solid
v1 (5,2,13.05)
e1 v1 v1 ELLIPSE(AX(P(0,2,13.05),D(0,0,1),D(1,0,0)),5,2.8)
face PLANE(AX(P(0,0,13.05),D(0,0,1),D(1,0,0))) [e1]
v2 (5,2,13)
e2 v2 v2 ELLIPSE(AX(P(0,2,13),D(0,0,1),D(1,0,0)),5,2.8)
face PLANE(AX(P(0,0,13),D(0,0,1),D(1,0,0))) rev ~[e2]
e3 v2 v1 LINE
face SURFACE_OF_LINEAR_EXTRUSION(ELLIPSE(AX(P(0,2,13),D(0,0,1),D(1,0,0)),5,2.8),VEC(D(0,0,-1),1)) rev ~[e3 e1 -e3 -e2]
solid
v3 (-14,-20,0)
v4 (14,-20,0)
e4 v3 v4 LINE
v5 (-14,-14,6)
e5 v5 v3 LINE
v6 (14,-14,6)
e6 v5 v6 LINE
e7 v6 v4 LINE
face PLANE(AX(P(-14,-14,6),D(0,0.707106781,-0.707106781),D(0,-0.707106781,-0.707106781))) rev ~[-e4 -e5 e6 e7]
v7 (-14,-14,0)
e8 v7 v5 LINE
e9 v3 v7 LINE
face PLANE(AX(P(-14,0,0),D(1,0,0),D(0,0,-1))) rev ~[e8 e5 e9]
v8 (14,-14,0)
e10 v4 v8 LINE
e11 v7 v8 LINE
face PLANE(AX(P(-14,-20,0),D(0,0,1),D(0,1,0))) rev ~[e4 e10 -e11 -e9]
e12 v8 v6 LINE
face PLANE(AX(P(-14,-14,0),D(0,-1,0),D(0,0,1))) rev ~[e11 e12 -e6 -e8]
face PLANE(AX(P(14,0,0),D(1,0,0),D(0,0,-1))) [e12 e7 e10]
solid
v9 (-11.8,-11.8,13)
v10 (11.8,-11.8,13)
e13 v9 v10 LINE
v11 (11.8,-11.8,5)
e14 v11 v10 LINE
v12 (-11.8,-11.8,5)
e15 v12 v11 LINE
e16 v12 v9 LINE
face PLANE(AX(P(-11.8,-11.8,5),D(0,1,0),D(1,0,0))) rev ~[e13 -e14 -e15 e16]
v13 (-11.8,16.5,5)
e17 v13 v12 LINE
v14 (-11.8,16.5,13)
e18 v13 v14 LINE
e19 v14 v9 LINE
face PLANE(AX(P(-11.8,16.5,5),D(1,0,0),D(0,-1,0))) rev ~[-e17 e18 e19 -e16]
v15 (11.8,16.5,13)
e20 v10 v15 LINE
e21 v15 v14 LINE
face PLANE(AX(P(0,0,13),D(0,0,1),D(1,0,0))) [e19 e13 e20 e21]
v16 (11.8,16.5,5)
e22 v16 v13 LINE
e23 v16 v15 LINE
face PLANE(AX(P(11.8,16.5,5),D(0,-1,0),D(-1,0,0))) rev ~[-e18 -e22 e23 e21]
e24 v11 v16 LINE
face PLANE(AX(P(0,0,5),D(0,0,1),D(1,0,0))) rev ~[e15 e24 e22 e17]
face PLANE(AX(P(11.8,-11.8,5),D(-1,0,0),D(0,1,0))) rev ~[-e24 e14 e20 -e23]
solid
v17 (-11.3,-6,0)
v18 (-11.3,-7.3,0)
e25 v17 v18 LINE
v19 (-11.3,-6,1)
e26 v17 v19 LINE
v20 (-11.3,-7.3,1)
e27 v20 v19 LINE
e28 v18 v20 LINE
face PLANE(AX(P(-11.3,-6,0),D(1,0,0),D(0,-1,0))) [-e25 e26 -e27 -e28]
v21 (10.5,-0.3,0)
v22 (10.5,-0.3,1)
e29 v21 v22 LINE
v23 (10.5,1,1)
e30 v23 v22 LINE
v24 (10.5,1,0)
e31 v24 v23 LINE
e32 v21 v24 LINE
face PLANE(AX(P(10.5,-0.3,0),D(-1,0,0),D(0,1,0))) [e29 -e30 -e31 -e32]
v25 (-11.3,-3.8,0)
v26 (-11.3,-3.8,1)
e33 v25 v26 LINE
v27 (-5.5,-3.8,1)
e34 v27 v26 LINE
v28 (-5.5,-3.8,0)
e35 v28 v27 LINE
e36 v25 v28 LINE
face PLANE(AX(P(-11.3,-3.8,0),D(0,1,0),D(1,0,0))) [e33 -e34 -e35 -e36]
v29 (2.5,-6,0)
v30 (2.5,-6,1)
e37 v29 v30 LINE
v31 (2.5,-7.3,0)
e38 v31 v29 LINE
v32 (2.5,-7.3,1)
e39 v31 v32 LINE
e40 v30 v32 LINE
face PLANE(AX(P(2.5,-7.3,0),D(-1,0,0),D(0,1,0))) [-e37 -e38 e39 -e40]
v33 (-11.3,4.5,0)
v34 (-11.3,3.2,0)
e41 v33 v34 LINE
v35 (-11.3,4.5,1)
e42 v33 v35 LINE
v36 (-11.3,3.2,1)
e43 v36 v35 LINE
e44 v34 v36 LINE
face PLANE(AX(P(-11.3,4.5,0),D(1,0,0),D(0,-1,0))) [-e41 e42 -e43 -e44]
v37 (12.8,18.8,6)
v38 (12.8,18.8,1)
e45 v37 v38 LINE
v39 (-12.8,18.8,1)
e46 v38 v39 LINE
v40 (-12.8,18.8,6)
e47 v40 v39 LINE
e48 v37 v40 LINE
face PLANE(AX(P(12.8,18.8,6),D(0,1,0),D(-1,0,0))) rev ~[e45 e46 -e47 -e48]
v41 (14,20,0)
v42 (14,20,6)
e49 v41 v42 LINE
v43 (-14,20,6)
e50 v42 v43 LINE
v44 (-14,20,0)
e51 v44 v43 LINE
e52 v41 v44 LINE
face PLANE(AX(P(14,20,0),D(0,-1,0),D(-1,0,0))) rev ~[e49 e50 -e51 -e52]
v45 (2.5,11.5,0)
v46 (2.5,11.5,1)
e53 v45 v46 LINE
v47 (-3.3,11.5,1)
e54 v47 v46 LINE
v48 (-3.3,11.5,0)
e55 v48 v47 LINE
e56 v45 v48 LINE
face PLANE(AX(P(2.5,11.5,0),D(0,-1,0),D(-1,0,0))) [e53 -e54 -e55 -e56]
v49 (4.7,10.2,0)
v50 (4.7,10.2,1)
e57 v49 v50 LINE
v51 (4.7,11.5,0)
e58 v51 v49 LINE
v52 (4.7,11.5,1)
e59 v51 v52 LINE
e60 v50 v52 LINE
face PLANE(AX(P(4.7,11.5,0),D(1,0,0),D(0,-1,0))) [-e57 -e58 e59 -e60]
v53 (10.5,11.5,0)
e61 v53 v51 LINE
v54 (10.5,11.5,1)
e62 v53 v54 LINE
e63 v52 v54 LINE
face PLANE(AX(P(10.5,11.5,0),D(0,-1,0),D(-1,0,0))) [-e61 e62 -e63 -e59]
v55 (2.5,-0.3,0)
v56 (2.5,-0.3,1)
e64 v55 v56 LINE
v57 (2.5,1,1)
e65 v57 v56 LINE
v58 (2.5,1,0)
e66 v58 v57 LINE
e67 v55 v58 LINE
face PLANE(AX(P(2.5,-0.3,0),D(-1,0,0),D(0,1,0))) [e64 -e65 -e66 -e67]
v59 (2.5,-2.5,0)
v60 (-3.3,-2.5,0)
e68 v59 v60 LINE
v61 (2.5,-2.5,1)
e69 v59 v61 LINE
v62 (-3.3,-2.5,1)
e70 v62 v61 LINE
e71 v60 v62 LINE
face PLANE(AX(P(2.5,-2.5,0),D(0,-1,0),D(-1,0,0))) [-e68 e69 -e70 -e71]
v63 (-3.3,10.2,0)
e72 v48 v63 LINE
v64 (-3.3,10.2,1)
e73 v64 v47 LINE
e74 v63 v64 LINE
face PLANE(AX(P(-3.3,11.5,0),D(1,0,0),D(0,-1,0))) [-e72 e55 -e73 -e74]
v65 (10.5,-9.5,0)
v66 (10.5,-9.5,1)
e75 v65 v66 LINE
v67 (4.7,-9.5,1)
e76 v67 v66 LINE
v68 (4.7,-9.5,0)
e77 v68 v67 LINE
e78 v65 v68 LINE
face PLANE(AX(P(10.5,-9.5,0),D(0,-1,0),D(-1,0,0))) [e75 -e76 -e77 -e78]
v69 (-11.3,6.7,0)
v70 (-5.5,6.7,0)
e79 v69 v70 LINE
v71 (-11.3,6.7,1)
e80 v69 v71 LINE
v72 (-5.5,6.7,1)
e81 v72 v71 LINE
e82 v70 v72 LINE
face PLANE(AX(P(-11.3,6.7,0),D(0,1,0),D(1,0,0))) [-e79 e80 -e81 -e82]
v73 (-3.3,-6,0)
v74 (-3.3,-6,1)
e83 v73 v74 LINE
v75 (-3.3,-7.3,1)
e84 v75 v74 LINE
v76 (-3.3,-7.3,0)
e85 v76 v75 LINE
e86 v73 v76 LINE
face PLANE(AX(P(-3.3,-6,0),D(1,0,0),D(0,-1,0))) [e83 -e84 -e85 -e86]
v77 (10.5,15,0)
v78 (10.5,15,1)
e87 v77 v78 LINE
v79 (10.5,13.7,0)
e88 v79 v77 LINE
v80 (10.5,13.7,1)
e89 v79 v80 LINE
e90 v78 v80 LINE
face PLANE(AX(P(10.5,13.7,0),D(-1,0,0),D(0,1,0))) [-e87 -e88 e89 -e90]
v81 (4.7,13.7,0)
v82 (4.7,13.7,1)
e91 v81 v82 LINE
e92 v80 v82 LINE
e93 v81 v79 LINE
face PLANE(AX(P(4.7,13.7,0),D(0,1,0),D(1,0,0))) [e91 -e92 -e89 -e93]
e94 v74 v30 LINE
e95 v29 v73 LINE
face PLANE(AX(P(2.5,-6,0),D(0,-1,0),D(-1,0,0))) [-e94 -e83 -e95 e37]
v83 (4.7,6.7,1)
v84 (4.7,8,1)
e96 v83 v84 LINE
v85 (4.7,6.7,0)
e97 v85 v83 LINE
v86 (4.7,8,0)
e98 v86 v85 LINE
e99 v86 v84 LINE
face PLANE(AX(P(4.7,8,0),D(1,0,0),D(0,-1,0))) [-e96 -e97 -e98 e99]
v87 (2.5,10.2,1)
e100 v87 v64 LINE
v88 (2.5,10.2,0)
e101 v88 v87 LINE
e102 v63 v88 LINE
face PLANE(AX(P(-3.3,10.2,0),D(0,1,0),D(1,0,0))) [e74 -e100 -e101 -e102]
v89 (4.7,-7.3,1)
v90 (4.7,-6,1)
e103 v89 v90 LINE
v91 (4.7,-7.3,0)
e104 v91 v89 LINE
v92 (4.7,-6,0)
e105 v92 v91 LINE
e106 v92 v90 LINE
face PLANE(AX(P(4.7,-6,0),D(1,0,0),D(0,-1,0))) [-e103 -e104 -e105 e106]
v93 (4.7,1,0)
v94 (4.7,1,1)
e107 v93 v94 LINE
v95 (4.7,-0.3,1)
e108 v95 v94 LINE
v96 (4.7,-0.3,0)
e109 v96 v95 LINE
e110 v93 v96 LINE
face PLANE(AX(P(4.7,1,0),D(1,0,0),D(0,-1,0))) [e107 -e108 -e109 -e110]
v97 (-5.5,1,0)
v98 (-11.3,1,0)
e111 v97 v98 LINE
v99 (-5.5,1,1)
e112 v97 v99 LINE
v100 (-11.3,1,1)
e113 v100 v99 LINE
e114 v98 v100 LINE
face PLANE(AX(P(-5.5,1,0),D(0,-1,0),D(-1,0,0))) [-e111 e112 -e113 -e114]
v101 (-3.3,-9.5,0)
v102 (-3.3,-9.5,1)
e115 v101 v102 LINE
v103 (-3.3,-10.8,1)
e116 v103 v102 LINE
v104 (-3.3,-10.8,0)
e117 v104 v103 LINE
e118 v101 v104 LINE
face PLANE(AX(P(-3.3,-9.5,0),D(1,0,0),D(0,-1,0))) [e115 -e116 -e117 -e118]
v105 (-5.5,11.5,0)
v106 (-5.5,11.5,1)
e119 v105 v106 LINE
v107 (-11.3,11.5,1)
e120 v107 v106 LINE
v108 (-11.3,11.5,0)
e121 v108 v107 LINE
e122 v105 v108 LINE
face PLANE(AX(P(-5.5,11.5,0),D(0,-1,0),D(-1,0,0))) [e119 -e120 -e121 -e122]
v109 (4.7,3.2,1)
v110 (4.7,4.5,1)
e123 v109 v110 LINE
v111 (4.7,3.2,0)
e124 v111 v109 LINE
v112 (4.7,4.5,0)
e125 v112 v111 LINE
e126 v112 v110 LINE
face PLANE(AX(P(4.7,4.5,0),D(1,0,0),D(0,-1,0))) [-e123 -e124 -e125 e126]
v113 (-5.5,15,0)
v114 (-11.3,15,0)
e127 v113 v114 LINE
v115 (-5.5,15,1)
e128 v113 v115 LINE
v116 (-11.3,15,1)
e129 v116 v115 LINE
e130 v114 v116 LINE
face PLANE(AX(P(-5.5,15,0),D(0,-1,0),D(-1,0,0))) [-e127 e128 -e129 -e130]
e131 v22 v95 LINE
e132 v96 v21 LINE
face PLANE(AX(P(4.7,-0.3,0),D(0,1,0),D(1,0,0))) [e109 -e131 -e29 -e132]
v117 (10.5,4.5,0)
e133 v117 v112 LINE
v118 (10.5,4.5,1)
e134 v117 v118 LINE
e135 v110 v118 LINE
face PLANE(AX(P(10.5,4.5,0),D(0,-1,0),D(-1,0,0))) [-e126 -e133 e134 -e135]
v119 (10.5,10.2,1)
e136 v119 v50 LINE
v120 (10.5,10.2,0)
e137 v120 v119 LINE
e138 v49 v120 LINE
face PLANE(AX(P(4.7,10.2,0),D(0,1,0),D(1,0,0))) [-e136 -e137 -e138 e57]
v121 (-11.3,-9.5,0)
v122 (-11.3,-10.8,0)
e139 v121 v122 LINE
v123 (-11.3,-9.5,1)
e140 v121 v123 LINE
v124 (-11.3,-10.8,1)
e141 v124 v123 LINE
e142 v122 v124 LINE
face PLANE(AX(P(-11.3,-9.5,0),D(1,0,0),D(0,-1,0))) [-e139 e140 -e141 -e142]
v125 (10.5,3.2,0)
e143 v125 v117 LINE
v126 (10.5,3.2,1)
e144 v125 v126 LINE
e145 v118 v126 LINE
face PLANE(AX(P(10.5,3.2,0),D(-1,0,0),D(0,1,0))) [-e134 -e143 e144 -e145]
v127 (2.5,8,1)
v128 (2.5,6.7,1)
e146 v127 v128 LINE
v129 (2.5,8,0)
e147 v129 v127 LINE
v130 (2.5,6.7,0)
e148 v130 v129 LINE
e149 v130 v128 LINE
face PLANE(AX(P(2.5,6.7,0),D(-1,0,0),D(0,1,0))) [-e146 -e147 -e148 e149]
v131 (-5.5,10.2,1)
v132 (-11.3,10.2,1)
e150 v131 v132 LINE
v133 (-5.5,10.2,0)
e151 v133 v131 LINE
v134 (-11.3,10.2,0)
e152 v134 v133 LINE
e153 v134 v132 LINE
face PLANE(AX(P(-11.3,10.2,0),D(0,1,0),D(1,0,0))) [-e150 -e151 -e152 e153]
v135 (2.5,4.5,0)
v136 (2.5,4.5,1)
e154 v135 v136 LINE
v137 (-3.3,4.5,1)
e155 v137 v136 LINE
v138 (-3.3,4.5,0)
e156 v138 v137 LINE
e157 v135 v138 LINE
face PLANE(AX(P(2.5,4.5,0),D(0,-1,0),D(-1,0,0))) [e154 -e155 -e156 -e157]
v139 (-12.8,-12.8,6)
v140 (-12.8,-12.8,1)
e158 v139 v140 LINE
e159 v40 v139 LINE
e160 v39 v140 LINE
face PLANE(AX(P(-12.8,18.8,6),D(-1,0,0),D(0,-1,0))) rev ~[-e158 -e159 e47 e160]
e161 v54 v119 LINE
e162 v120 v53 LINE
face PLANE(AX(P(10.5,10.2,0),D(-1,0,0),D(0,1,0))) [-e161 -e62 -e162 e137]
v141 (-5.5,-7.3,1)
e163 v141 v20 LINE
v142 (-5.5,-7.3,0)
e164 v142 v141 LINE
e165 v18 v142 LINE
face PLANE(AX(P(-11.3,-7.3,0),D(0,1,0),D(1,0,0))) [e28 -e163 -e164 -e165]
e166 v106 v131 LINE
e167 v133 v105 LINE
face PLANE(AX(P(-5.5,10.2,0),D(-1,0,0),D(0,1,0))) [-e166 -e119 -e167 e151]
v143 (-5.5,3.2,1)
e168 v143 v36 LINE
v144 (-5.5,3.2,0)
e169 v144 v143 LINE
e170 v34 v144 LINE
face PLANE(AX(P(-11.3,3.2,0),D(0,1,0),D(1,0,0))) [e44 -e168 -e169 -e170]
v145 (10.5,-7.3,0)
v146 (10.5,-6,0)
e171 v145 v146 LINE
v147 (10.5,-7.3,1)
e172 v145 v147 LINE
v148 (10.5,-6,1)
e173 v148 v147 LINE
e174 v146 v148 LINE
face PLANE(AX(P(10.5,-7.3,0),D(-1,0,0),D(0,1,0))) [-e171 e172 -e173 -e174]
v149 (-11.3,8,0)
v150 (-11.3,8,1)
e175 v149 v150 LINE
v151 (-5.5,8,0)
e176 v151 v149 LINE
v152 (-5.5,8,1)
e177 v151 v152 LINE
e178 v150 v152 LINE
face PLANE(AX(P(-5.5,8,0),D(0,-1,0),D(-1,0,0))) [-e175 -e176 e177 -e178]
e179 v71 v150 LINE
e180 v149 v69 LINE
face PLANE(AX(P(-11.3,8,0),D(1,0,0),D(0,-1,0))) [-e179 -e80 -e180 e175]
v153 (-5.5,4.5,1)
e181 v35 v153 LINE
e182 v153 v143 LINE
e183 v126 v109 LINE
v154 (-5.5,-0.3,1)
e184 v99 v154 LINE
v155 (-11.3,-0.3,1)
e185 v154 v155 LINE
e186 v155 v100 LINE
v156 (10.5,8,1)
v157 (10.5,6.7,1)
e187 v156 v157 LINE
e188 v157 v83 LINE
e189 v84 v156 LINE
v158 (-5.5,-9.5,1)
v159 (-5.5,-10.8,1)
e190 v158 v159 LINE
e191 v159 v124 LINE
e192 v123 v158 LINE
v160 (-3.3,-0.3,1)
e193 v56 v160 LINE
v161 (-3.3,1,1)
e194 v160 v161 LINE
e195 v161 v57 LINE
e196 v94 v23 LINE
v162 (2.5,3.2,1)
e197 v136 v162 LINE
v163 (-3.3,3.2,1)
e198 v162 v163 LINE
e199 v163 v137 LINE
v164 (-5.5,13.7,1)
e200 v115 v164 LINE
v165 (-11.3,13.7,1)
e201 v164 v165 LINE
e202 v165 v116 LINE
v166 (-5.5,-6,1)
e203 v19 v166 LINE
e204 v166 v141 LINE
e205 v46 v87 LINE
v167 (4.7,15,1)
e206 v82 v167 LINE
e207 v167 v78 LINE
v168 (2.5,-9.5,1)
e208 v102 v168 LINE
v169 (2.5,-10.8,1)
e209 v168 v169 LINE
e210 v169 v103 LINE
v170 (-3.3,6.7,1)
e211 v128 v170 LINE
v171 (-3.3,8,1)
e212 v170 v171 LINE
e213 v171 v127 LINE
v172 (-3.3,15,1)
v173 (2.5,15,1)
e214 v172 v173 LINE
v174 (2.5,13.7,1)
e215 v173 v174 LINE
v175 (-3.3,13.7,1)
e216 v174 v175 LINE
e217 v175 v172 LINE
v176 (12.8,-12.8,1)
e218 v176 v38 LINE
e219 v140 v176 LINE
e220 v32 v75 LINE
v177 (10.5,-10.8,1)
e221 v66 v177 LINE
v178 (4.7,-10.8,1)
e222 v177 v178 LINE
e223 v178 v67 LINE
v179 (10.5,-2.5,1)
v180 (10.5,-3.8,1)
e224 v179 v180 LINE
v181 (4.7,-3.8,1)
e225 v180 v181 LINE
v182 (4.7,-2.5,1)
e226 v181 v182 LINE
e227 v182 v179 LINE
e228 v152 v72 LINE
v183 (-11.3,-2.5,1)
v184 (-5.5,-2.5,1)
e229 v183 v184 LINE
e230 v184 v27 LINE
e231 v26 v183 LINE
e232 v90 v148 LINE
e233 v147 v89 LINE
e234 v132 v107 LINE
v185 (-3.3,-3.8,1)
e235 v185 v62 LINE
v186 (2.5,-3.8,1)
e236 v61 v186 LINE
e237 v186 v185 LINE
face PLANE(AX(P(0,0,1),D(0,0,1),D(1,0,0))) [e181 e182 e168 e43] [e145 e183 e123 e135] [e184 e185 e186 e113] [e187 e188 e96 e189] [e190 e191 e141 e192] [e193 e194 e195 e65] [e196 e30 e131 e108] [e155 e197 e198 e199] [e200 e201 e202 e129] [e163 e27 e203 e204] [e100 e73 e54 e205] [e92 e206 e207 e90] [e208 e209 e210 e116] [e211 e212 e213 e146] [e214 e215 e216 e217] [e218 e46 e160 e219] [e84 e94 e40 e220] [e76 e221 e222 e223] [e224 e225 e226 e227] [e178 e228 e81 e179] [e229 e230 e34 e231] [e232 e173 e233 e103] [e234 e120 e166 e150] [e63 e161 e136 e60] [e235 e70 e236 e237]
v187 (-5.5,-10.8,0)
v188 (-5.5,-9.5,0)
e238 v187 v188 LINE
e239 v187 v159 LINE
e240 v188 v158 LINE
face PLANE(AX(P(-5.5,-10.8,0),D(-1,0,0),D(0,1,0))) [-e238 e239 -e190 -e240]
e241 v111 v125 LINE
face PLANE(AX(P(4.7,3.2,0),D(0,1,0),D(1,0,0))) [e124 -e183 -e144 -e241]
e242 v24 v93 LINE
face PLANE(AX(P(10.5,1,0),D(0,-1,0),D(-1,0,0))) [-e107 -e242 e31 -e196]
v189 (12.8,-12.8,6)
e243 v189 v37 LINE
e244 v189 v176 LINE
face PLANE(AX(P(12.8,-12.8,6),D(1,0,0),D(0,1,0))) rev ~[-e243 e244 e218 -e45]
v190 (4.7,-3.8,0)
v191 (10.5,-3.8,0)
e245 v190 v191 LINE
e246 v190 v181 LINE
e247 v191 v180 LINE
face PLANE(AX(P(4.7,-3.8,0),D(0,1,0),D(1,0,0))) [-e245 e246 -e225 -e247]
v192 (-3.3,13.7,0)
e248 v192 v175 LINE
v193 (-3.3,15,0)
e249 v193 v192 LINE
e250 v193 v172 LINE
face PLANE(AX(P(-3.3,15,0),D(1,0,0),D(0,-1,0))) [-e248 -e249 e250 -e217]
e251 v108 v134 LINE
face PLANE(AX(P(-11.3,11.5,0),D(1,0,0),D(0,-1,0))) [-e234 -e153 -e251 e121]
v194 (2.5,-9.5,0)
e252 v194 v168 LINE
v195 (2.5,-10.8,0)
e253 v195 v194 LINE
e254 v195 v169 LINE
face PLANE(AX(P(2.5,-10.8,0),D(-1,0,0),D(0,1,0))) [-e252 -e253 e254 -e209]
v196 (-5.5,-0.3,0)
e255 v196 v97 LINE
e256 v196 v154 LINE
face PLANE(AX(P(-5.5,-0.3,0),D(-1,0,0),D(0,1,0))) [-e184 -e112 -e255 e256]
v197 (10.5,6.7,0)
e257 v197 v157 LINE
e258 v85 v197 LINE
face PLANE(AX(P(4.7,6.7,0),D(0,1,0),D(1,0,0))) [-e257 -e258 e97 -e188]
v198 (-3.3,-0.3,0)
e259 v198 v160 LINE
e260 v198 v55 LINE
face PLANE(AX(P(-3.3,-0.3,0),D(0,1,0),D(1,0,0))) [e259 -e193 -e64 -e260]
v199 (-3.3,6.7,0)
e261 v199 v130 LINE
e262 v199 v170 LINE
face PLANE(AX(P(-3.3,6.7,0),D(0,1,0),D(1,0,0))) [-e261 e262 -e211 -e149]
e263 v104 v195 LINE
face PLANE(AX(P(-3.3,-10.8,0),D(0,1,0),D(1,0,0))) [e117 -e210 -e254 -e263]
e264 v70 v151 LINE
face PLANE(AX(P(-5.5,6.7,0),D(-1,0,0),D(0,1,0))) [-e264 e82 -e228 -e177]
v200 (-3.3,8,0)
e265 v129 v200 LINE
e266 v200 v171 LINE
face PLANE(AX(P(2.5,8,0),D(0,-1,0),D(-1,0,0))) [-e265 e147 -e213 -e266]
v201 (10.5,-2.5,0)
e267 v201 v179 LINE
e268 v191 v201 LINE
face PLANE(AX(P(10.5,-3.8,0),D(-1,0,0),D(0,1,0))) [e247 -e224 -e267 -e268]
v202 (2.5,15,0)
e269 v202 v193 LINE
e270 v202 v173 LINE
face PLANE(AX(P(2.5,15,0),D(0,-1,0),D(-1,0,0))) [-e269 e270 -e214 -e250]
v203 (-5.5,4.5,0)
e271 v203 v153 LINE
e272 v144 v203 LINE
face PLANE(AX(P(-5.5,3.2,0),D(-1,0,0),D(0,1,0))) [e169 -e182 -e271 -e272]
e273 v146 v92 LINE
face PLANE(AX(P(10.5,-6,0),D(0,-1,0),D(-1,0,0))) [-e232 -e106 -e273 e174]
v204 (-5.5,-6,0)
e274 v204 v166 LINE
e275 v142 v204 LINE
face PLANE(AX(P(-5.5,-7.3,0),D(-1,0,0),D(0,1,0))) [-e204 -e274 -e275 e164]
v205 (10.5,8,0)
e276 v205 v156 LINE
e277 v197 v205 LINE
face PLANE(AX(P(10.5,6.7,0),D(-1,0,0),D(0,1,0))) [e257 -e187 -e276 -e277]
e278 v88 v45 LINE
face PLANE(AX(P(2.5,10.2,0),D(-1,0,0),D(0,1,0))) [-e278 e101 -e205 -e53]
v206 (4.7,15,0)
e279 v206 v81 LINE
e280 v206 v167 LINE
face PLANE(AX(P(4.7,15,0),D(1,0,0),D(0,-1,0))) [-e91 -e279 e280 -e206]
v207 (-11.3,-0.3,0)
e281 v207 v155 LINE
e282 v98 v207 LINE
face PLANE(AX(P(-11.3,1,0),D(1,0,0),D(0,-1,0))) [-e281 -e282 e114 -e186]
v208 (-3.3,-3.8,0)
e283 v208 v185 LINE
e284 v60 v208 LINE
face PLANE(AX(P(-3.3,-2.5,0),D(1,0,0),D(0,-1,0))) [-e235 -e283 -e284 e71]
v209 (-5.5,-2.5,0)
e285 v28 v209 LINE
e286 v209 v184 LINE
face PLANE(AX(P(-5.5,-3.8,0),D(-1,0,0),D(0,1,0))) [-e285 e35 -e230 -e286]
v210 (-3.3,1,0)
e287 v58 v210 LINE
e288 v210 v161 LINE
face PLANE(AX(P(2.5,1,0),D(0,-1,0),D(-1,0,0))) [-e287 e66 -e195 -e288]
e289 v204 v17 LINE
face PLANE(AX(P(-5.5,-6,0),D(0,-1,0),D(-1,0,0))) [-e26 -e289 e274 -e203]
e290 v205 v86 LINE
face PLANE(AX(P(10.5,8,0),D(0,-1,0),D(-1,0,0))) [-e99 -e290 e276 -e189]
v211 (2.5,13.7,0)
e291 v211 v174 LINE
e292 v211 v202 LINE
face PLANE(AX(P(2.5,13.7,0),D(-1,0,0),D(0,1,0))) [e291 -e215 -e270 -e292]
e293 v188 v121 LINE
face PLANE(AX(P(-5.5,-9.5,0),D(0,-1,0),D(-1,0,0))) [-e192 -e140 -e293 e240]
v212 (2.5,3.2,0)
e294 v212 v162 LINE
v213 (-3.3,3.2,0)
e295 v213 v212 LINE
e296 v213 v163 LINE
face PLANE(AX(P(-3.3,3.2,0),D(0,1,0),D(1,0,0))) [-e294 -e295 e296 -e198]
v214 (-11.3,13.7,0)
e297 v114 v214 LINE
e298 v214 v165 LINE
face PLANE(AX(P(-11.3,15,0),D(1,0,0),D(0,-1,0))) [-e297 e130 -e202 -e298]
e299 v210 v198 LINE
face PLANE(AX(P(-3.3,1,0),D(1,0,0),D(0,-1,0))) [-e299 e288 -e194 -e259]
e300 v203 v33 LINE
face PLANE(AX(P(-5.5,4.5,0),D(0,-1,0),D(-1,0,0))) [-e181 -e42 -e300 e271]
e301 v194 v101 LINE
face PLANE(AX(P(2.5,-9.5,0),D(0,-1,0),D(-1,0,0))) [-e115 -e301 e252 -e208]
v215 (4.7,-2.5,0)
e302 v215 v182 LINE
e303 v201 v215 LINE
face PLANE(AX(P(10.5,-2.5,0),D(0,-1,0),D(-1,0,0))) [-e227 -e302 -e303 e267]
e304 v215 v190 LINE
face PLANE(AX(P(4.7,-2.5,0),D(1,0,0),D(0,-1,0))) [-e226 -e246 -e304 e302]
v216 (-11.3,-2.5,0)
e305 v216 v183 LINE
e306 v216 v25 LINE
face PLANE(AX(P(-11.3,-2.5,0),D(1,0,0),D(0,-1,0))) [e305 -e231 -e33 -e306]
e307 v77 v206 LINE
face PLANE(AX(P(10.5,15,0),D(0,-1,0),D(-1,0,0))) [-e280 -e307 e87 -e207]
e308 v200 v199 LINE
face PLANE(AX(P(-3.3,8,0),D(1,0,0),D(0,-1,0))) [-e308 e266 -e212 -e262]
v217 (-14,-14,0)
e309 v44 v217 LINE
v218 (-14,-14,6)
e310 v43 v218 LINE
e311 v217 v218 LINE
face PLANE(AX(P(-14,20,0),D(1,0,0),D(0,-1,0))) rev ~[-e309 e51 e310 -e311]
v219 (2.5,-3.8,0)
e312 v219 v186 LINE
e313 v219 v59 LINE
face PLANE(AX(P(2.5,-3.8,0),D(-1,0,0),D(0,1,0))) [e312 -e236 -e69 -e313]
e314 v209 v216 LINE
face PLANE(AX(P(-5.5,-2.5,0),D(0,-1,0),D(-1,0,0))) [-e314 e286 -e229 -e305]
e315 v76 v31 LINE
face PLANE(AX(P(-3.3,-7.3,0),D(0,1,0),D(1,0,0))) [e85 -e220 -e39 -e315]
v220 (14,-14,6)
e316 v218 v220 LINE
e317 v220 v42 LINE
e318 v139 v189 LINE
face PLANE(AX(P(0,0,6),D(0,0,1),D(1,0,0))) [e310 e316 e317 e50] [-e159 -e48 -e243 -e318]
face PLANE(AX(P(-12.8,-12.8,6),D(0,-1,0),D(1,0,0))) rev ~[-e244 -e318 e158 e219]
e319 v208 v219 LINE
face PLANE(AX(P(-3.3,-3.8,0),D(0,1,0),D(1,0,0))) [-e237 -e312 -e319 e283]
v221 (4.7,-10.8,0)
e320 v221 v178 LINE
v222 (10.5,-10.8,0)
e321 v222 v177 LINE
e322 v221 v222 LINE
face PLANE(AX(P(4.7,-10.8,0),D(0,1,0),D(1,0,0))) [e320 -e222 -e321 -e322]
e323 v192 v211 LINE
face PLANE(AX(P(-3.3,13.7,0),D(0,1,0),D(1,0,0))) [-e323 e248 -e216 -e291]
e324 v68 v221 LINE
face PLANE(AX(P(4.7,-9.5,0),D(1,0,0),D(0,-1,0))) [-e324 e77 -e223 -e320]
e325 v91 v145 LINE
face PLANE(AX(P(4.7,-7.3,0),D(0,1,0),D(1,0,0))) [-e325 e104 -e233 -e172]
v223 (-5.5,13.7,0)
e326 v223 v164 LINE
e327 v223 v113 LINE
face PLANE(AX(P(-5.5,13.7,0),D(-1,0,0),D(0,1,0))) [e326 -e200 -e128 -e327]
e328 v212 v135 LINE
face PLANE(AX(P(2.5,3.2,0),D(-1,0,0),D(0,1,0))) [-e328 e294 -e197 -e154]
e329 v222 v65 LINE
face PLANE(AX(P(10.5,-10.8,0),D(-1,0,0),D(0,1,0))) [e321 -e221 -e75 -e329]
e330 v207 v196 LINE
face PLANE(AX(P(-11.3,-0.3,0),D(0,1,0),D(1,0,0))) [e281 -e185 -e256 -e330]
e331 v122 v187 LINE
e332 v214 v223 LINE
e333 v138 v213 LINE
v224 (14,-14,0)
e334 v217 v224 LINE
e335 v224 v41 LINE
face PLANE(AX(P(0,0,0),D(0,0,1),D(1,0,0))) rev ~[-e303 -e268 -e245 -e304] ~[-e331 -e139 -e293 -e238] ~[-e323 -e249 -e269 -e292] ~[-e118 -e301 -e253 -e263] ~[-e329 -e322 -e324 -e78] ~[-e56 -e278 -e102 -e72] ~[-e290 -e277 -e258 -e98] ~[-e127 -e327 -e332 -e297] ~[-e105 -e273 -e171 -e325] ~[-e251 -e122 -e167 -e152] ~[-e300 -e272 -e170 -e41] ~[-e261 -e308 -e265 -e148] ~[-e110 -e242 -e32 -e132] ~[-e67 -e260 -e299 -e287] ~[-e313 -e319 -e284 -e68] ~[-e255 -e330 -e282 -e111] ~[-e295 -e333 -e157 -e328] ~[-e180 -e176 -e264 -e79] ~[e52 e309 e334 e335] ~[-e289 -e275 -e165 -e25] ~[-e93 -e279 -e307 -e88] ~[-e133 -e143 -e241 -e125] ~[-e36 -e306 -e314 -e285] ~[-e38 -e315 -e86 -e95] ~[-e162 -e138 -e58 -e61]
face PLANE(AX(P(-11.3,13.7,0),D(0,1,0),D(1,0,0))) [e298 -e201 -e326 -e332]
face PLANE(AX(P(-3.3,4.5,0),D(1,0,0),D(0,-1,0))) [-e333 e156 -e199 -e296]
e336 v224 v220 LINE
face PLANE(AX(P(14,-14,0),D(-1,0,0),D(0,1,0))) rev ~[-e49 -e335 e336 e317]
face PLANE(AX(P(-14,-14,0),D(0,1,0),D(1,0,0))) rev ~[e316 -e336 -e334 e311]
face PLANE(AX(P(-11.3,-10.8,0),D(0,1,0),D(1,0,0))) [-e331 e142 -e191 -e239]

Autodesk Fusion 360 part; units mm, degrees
sketch "Sketch1" plane through (0, 0, 0) normal (0, 0, 1) x (1, 0, 0)
  line L0 (-14, -14) -> (14, -14)
  line L1 (14, -14) -> (14, 20)
  line L2 (14, 20) -> (-14, 20)
  line L3 (-14, 20) -> (-14, -14)
extrude "Cassette plastic body" add sketch "Sketch1" along normal blind 6 makes body 1
ref_plane "WorkPlane1" through (0, 0, 6) normal (0, 0, 1) x (1, 0, 0)
sketch "Sketch2" plane through (0, 0, 6) normal (0, 0, 1) x (1, 0, 0)
  line L0 (-12.8, -12.8) -> (12.8, -12.8)
  line L1 (12.8, -12.8) -> (12.8, 18.8)
  line L2 (12.8, 18.8) -> (-12.8, 18.8)
  line L3 (-12.8, 18.8) -> (-12.8, -12.8)
extrude "Cassette cavity" cut sketch "Sketch2" against normal blind 5 bodies 1
sketch "Sketch3" plane through (0, 0, 0) normal (0, 0, 1) x (1, 0, 0)
  line L0 (-11.3, -10.8) -> (-5.5, -10.8)
  line L1 (-5.5, -10.8) -> (-5.5, -9.5)
  line L2 (-5.5, -9.5) -> (-11.3, -9.5)
  line L3 (-11.3, -9.5) -> (-11.3, -10.8)
  line L4 (-3.3, -10.8) -> (2.5, -10.8)
  line L5 (2.5, -10.8) -> (2.5, -9.5)
  line L6 (2.5, -9.5) -> (-3.3, -9.5)
  line L7 (-3.3, -9.5) -> (-3.3, -10.8)
  line L8 (4.7, -10.8) -> (10.5, -10.8)
  line L9 (10.5, -10.8) -> (10.5, -9.5)
  line L10 (10.5, -9.5) -> (4.7, -9.5)
  line L11 (4.7, -9.5) -> (4.7, -10.8)
  line L12 (-11.3, -7.3) -> (-5.5, -7.3)
  line L13 (-5.5, -7.3) -> (-5.5, -6)
  line L14 (-5.5, -6) -> (-11.3, -6)
  line L15 (-11.3, -6) -> (-11.3, -7.3)
  line L16 (-3.3, -7.3) -> (2.5, -7.3)
  line L17 (2.5, -7.3) -> (2.5, -6)
  line L18 (2.5, -6) -> (-3.3, -6)
  line L19 (-3.3, -6) -> (-3.3, -7.3)
  line L20 (4.7, -7.3) -> (10.5, -7.3)
  line L21 (10.5, -7.3) -> (10.5, -6)
  line L22 (10.5, -6) -> (4.7, -6)
  line L23 (4.7, -6) -> (4.7, -7.3)
  line L24 (-11.3, -3.8) -> (-5.5, -3.8)
  line L25 (-5.5, -3.8) -> (-5.5, -2.5)
  line L26 (-5.5, -2.5) -> (-11.3, -2.5)
  line L27 (-11.3, -2.5) -> (-11.3, -3.8)
  line L28 (-3.3, -3.8) -> (2.5, -3.8)
  line L29 (2.5, -3.8) -> (2.5, -2.5)
  line L30 (2.5, -2.5) -> (-3.3, -2.5)
  line L31 (-3.3, -2.5) -> (-3.3, -3.8)
  line L32 (4.7, -3.8) -> (10.5, -3.8)
  line L33 (10.5, -3.8) -> (10.5, -2.5)
  line L34 (10.5, -2.5) -> (4.7, -2.5)
  line L35 (4.7, -2.5) -> (4.7, -3.8)
  line L36 (-11.3, -0.3) -> (-5.5, -0.3)
  line L37 (-5.5, -0.3) -> (-5.5, 1)
  line L38 (-5.5, 1) -> (-11.3, 1)
  line L39 (-11.3, 1) -> (-11.3, -0.3)
  line L40 (-3.3, -0.3) -> (2.5, -0.3)
  line L41 (2.5, -0.3) -> (2.5, 1)
  line L42 (2.5, 1) -> (-3.3, 1)
  line L43 (-3.3, 1) -> (-3.3, -0.3)
  line L44 (4.7, -0.3) -> (10.5, -0.3)
  line L45 (10.5, -0.3) -> (10.5, 1)
  line L46 (10.5, 1) -> (4.7, 1)
  line L47 (4.7, 1) -> (4.7, -0.3)
  line L48 (-11.3, 3.2) -> (-5.5, 3.2)
  line L49 (-5.5, 3.2) -> (-5.5, 4.5)
  line L50 (-5.5, 4.5) -> (-11.3, 4.5)
  line L51 (-11.3, 4.5) -> (-11.3, 3.2)
  line L52 (-3.3, 3.2) -> (2.5, 3.2)
  line L53 (2.5, 3.2) -> (2.5, 4.5)
  line L54 (2.5, 4.5) -> (-3.3, 4.5)
  line L55 (-3.3, 4.5) -> (-3.3, 3.2)
  line L56 (4.7, 3.2) -> (10.5, 3.2)
  line L57 (10.5, 3.2) -> (10.5, 4.5)
  line L58 (10.5, 4.5) -> (4.7, 4.5)
  line L59 (4.7, 4.5) -> (4.7, 3.2)
  line L60 (-11.3, 6.7) -> (-5.5, 6.7)
  line L61 (-5.5, 6.7) -> (-5.5, 8)
  line L62 (-5.5, 8) -> (-11.3, 8)
  line L63 (-11.3, 8) -> (-11.3, 6.7)
  line L64 (-3.3, 6.7) -> (2.5, 6.7)
  line L65 (2.5, 6.7) -> (2.5, 8)
  line L66 (2.5, 8) -> (-3.3, 8)
  line L67 (-3.3, 8) -> (-3.3, 6.7)
  line L68 (4.7, 6.7) -> (10.5, 6.7)
  line L69 (10.5, 6.7) -> (10.5, 8)
  line L70 (10.5, 8) -> (4.7, 8)
  line L71 (4.7, 8) -> (4.7, 6.7)
  line L72 (-11.3, 10.2) -> (-5.5, 10.2)
  line L73 (-5.5, 10.2) -> (-5.5, 11.5)
  line L74 (-5.5, 11.5) -> (-11.3, 11.5)
  line L75 (-11.3, 11.5) -> (-11.3, 10.2)
  line L76 (-3.3, 10.2) -> (2.5, 10.2)
  line L77 (2.5, 10.2) -> (2.5, 11.5)
  line L78 (2.5, 11.5) -> (-3.3, 11.5)
  line L79 (-3.3, 11.5) -> (-3.3, 10.2)
  line L80 (4.7, 10.2) -> (10.5, 10.2)
  line L81 (10.5, 10.2) -> (10.5, 11.5)
  line L82 (10.5, 11.5) -> (4.7, 11.5)
  line L83 (4.7, 11.5) -> (4.7, 10.2)
  line L84 (-11.3, 13.7) -> (-5.5, 13.7)
  line L85 (-5.5, 13.7) -> (-5.5, 15)
  line L86 (-5.5, 15) -> (-11.3, 15)
  line L87 (-11.3, 15) -> (-11.3, 13.7)
  line L88 (-3.3, 13.7) -> (2.5, 13.7)
  line L89 (2.5, 13.7) -> (2.5, 15)
  line L90 (2.5, 15) -> (-3.3, 15)
  line L91 (-3.3, 15) -> (-3.3, 13.7)
  line L92 (4.7, 13.7) -> (10.5, 13.7)
  line L93 (10.5, 13.7) -> (10.5, 15)
  line L94 (10.5, 15) -> (4.7, 15)
  line L95 (4.7, 15) -> (4.7, 13.7)
extrude "24 drainage slots" cut sketch "Sketch3" along normal blind 1.1 bodies 1
ref_plane "WorkPlane2" through (-14, 0, 0) normal (1, 0, 0) x (0, 1, 0)
sketch "Sketch4" plane through (-14, 0, 0) normal (1, 0, 0) x (0, 0, -1)
  line L0 (0, -20) -> (0, -14)
  line L1 (0, -14) -> (-6, -14)
  line L2 (-6, -14) -> (0, -20)
extrude "45 degree labeling face" add sketch "Sketch4" along normal blind 28 separate body makes body 2
ref_plane "WorkPlane3" through (0, 0, 5) normal (0, 0, 1) x (1, 0, 0)
sketch "Sketch5" plane through (0, 0, 5) normal (0, 0, 1) x (1, 0, 0)
  line L0 (-11.8, -11.8) -> (11.8, -11.8)
  line L1 (11.8, -11.8) -> (11.8, 16.5)
  line L2 (11.8, 16.5) -> (-11.8, 16.5)
  line L3 (-11.8, 16.5) -> (-11.8, -11.8)
extrude "Paraffin embedded block" add sketch "Sketch5" along normal blind 8 separate body makes body 3
ref_plane "WorkPlane4" through (0, 0, 13) normal (0, 0, 1) x (1, 0, 0)
sketch "Sketch6" plane through (0, 0, 13) normal (0, 0, 1) x (1, 0, 0)
  ellipse E0 centre (0, 2) end of major axis (5, 2) minor radius 2.8
  line L0 (-5, 2) -> (5, 2) construction
  line L1 (0, 4.8) -> (0, -0.8) construction
extrude "Tissue at sectioning face - schematic" add sketch "Sketch6" along normal blind 0.05 separate body makes body 4
equation "cassetteWidth = 28 mm" comment "Generic cassette prototype; measure target consumable before fit testing"
equation "cassetteLength = 40 mm" comment "Generic cassette prototype; measure target consumable before fit testing"
equation "cassetteHeight = 6 mm" comment "Generic cassette prototype; measure target consumable before fit testing"
equation "waxHeight = 8 mm" comment "Generic cassette prototype; measure target consumable before fit testing"
equation "d5 = cassetteHeight"
equation "d15 = cassetteWidth"
equation "d19 = waxHeight"
